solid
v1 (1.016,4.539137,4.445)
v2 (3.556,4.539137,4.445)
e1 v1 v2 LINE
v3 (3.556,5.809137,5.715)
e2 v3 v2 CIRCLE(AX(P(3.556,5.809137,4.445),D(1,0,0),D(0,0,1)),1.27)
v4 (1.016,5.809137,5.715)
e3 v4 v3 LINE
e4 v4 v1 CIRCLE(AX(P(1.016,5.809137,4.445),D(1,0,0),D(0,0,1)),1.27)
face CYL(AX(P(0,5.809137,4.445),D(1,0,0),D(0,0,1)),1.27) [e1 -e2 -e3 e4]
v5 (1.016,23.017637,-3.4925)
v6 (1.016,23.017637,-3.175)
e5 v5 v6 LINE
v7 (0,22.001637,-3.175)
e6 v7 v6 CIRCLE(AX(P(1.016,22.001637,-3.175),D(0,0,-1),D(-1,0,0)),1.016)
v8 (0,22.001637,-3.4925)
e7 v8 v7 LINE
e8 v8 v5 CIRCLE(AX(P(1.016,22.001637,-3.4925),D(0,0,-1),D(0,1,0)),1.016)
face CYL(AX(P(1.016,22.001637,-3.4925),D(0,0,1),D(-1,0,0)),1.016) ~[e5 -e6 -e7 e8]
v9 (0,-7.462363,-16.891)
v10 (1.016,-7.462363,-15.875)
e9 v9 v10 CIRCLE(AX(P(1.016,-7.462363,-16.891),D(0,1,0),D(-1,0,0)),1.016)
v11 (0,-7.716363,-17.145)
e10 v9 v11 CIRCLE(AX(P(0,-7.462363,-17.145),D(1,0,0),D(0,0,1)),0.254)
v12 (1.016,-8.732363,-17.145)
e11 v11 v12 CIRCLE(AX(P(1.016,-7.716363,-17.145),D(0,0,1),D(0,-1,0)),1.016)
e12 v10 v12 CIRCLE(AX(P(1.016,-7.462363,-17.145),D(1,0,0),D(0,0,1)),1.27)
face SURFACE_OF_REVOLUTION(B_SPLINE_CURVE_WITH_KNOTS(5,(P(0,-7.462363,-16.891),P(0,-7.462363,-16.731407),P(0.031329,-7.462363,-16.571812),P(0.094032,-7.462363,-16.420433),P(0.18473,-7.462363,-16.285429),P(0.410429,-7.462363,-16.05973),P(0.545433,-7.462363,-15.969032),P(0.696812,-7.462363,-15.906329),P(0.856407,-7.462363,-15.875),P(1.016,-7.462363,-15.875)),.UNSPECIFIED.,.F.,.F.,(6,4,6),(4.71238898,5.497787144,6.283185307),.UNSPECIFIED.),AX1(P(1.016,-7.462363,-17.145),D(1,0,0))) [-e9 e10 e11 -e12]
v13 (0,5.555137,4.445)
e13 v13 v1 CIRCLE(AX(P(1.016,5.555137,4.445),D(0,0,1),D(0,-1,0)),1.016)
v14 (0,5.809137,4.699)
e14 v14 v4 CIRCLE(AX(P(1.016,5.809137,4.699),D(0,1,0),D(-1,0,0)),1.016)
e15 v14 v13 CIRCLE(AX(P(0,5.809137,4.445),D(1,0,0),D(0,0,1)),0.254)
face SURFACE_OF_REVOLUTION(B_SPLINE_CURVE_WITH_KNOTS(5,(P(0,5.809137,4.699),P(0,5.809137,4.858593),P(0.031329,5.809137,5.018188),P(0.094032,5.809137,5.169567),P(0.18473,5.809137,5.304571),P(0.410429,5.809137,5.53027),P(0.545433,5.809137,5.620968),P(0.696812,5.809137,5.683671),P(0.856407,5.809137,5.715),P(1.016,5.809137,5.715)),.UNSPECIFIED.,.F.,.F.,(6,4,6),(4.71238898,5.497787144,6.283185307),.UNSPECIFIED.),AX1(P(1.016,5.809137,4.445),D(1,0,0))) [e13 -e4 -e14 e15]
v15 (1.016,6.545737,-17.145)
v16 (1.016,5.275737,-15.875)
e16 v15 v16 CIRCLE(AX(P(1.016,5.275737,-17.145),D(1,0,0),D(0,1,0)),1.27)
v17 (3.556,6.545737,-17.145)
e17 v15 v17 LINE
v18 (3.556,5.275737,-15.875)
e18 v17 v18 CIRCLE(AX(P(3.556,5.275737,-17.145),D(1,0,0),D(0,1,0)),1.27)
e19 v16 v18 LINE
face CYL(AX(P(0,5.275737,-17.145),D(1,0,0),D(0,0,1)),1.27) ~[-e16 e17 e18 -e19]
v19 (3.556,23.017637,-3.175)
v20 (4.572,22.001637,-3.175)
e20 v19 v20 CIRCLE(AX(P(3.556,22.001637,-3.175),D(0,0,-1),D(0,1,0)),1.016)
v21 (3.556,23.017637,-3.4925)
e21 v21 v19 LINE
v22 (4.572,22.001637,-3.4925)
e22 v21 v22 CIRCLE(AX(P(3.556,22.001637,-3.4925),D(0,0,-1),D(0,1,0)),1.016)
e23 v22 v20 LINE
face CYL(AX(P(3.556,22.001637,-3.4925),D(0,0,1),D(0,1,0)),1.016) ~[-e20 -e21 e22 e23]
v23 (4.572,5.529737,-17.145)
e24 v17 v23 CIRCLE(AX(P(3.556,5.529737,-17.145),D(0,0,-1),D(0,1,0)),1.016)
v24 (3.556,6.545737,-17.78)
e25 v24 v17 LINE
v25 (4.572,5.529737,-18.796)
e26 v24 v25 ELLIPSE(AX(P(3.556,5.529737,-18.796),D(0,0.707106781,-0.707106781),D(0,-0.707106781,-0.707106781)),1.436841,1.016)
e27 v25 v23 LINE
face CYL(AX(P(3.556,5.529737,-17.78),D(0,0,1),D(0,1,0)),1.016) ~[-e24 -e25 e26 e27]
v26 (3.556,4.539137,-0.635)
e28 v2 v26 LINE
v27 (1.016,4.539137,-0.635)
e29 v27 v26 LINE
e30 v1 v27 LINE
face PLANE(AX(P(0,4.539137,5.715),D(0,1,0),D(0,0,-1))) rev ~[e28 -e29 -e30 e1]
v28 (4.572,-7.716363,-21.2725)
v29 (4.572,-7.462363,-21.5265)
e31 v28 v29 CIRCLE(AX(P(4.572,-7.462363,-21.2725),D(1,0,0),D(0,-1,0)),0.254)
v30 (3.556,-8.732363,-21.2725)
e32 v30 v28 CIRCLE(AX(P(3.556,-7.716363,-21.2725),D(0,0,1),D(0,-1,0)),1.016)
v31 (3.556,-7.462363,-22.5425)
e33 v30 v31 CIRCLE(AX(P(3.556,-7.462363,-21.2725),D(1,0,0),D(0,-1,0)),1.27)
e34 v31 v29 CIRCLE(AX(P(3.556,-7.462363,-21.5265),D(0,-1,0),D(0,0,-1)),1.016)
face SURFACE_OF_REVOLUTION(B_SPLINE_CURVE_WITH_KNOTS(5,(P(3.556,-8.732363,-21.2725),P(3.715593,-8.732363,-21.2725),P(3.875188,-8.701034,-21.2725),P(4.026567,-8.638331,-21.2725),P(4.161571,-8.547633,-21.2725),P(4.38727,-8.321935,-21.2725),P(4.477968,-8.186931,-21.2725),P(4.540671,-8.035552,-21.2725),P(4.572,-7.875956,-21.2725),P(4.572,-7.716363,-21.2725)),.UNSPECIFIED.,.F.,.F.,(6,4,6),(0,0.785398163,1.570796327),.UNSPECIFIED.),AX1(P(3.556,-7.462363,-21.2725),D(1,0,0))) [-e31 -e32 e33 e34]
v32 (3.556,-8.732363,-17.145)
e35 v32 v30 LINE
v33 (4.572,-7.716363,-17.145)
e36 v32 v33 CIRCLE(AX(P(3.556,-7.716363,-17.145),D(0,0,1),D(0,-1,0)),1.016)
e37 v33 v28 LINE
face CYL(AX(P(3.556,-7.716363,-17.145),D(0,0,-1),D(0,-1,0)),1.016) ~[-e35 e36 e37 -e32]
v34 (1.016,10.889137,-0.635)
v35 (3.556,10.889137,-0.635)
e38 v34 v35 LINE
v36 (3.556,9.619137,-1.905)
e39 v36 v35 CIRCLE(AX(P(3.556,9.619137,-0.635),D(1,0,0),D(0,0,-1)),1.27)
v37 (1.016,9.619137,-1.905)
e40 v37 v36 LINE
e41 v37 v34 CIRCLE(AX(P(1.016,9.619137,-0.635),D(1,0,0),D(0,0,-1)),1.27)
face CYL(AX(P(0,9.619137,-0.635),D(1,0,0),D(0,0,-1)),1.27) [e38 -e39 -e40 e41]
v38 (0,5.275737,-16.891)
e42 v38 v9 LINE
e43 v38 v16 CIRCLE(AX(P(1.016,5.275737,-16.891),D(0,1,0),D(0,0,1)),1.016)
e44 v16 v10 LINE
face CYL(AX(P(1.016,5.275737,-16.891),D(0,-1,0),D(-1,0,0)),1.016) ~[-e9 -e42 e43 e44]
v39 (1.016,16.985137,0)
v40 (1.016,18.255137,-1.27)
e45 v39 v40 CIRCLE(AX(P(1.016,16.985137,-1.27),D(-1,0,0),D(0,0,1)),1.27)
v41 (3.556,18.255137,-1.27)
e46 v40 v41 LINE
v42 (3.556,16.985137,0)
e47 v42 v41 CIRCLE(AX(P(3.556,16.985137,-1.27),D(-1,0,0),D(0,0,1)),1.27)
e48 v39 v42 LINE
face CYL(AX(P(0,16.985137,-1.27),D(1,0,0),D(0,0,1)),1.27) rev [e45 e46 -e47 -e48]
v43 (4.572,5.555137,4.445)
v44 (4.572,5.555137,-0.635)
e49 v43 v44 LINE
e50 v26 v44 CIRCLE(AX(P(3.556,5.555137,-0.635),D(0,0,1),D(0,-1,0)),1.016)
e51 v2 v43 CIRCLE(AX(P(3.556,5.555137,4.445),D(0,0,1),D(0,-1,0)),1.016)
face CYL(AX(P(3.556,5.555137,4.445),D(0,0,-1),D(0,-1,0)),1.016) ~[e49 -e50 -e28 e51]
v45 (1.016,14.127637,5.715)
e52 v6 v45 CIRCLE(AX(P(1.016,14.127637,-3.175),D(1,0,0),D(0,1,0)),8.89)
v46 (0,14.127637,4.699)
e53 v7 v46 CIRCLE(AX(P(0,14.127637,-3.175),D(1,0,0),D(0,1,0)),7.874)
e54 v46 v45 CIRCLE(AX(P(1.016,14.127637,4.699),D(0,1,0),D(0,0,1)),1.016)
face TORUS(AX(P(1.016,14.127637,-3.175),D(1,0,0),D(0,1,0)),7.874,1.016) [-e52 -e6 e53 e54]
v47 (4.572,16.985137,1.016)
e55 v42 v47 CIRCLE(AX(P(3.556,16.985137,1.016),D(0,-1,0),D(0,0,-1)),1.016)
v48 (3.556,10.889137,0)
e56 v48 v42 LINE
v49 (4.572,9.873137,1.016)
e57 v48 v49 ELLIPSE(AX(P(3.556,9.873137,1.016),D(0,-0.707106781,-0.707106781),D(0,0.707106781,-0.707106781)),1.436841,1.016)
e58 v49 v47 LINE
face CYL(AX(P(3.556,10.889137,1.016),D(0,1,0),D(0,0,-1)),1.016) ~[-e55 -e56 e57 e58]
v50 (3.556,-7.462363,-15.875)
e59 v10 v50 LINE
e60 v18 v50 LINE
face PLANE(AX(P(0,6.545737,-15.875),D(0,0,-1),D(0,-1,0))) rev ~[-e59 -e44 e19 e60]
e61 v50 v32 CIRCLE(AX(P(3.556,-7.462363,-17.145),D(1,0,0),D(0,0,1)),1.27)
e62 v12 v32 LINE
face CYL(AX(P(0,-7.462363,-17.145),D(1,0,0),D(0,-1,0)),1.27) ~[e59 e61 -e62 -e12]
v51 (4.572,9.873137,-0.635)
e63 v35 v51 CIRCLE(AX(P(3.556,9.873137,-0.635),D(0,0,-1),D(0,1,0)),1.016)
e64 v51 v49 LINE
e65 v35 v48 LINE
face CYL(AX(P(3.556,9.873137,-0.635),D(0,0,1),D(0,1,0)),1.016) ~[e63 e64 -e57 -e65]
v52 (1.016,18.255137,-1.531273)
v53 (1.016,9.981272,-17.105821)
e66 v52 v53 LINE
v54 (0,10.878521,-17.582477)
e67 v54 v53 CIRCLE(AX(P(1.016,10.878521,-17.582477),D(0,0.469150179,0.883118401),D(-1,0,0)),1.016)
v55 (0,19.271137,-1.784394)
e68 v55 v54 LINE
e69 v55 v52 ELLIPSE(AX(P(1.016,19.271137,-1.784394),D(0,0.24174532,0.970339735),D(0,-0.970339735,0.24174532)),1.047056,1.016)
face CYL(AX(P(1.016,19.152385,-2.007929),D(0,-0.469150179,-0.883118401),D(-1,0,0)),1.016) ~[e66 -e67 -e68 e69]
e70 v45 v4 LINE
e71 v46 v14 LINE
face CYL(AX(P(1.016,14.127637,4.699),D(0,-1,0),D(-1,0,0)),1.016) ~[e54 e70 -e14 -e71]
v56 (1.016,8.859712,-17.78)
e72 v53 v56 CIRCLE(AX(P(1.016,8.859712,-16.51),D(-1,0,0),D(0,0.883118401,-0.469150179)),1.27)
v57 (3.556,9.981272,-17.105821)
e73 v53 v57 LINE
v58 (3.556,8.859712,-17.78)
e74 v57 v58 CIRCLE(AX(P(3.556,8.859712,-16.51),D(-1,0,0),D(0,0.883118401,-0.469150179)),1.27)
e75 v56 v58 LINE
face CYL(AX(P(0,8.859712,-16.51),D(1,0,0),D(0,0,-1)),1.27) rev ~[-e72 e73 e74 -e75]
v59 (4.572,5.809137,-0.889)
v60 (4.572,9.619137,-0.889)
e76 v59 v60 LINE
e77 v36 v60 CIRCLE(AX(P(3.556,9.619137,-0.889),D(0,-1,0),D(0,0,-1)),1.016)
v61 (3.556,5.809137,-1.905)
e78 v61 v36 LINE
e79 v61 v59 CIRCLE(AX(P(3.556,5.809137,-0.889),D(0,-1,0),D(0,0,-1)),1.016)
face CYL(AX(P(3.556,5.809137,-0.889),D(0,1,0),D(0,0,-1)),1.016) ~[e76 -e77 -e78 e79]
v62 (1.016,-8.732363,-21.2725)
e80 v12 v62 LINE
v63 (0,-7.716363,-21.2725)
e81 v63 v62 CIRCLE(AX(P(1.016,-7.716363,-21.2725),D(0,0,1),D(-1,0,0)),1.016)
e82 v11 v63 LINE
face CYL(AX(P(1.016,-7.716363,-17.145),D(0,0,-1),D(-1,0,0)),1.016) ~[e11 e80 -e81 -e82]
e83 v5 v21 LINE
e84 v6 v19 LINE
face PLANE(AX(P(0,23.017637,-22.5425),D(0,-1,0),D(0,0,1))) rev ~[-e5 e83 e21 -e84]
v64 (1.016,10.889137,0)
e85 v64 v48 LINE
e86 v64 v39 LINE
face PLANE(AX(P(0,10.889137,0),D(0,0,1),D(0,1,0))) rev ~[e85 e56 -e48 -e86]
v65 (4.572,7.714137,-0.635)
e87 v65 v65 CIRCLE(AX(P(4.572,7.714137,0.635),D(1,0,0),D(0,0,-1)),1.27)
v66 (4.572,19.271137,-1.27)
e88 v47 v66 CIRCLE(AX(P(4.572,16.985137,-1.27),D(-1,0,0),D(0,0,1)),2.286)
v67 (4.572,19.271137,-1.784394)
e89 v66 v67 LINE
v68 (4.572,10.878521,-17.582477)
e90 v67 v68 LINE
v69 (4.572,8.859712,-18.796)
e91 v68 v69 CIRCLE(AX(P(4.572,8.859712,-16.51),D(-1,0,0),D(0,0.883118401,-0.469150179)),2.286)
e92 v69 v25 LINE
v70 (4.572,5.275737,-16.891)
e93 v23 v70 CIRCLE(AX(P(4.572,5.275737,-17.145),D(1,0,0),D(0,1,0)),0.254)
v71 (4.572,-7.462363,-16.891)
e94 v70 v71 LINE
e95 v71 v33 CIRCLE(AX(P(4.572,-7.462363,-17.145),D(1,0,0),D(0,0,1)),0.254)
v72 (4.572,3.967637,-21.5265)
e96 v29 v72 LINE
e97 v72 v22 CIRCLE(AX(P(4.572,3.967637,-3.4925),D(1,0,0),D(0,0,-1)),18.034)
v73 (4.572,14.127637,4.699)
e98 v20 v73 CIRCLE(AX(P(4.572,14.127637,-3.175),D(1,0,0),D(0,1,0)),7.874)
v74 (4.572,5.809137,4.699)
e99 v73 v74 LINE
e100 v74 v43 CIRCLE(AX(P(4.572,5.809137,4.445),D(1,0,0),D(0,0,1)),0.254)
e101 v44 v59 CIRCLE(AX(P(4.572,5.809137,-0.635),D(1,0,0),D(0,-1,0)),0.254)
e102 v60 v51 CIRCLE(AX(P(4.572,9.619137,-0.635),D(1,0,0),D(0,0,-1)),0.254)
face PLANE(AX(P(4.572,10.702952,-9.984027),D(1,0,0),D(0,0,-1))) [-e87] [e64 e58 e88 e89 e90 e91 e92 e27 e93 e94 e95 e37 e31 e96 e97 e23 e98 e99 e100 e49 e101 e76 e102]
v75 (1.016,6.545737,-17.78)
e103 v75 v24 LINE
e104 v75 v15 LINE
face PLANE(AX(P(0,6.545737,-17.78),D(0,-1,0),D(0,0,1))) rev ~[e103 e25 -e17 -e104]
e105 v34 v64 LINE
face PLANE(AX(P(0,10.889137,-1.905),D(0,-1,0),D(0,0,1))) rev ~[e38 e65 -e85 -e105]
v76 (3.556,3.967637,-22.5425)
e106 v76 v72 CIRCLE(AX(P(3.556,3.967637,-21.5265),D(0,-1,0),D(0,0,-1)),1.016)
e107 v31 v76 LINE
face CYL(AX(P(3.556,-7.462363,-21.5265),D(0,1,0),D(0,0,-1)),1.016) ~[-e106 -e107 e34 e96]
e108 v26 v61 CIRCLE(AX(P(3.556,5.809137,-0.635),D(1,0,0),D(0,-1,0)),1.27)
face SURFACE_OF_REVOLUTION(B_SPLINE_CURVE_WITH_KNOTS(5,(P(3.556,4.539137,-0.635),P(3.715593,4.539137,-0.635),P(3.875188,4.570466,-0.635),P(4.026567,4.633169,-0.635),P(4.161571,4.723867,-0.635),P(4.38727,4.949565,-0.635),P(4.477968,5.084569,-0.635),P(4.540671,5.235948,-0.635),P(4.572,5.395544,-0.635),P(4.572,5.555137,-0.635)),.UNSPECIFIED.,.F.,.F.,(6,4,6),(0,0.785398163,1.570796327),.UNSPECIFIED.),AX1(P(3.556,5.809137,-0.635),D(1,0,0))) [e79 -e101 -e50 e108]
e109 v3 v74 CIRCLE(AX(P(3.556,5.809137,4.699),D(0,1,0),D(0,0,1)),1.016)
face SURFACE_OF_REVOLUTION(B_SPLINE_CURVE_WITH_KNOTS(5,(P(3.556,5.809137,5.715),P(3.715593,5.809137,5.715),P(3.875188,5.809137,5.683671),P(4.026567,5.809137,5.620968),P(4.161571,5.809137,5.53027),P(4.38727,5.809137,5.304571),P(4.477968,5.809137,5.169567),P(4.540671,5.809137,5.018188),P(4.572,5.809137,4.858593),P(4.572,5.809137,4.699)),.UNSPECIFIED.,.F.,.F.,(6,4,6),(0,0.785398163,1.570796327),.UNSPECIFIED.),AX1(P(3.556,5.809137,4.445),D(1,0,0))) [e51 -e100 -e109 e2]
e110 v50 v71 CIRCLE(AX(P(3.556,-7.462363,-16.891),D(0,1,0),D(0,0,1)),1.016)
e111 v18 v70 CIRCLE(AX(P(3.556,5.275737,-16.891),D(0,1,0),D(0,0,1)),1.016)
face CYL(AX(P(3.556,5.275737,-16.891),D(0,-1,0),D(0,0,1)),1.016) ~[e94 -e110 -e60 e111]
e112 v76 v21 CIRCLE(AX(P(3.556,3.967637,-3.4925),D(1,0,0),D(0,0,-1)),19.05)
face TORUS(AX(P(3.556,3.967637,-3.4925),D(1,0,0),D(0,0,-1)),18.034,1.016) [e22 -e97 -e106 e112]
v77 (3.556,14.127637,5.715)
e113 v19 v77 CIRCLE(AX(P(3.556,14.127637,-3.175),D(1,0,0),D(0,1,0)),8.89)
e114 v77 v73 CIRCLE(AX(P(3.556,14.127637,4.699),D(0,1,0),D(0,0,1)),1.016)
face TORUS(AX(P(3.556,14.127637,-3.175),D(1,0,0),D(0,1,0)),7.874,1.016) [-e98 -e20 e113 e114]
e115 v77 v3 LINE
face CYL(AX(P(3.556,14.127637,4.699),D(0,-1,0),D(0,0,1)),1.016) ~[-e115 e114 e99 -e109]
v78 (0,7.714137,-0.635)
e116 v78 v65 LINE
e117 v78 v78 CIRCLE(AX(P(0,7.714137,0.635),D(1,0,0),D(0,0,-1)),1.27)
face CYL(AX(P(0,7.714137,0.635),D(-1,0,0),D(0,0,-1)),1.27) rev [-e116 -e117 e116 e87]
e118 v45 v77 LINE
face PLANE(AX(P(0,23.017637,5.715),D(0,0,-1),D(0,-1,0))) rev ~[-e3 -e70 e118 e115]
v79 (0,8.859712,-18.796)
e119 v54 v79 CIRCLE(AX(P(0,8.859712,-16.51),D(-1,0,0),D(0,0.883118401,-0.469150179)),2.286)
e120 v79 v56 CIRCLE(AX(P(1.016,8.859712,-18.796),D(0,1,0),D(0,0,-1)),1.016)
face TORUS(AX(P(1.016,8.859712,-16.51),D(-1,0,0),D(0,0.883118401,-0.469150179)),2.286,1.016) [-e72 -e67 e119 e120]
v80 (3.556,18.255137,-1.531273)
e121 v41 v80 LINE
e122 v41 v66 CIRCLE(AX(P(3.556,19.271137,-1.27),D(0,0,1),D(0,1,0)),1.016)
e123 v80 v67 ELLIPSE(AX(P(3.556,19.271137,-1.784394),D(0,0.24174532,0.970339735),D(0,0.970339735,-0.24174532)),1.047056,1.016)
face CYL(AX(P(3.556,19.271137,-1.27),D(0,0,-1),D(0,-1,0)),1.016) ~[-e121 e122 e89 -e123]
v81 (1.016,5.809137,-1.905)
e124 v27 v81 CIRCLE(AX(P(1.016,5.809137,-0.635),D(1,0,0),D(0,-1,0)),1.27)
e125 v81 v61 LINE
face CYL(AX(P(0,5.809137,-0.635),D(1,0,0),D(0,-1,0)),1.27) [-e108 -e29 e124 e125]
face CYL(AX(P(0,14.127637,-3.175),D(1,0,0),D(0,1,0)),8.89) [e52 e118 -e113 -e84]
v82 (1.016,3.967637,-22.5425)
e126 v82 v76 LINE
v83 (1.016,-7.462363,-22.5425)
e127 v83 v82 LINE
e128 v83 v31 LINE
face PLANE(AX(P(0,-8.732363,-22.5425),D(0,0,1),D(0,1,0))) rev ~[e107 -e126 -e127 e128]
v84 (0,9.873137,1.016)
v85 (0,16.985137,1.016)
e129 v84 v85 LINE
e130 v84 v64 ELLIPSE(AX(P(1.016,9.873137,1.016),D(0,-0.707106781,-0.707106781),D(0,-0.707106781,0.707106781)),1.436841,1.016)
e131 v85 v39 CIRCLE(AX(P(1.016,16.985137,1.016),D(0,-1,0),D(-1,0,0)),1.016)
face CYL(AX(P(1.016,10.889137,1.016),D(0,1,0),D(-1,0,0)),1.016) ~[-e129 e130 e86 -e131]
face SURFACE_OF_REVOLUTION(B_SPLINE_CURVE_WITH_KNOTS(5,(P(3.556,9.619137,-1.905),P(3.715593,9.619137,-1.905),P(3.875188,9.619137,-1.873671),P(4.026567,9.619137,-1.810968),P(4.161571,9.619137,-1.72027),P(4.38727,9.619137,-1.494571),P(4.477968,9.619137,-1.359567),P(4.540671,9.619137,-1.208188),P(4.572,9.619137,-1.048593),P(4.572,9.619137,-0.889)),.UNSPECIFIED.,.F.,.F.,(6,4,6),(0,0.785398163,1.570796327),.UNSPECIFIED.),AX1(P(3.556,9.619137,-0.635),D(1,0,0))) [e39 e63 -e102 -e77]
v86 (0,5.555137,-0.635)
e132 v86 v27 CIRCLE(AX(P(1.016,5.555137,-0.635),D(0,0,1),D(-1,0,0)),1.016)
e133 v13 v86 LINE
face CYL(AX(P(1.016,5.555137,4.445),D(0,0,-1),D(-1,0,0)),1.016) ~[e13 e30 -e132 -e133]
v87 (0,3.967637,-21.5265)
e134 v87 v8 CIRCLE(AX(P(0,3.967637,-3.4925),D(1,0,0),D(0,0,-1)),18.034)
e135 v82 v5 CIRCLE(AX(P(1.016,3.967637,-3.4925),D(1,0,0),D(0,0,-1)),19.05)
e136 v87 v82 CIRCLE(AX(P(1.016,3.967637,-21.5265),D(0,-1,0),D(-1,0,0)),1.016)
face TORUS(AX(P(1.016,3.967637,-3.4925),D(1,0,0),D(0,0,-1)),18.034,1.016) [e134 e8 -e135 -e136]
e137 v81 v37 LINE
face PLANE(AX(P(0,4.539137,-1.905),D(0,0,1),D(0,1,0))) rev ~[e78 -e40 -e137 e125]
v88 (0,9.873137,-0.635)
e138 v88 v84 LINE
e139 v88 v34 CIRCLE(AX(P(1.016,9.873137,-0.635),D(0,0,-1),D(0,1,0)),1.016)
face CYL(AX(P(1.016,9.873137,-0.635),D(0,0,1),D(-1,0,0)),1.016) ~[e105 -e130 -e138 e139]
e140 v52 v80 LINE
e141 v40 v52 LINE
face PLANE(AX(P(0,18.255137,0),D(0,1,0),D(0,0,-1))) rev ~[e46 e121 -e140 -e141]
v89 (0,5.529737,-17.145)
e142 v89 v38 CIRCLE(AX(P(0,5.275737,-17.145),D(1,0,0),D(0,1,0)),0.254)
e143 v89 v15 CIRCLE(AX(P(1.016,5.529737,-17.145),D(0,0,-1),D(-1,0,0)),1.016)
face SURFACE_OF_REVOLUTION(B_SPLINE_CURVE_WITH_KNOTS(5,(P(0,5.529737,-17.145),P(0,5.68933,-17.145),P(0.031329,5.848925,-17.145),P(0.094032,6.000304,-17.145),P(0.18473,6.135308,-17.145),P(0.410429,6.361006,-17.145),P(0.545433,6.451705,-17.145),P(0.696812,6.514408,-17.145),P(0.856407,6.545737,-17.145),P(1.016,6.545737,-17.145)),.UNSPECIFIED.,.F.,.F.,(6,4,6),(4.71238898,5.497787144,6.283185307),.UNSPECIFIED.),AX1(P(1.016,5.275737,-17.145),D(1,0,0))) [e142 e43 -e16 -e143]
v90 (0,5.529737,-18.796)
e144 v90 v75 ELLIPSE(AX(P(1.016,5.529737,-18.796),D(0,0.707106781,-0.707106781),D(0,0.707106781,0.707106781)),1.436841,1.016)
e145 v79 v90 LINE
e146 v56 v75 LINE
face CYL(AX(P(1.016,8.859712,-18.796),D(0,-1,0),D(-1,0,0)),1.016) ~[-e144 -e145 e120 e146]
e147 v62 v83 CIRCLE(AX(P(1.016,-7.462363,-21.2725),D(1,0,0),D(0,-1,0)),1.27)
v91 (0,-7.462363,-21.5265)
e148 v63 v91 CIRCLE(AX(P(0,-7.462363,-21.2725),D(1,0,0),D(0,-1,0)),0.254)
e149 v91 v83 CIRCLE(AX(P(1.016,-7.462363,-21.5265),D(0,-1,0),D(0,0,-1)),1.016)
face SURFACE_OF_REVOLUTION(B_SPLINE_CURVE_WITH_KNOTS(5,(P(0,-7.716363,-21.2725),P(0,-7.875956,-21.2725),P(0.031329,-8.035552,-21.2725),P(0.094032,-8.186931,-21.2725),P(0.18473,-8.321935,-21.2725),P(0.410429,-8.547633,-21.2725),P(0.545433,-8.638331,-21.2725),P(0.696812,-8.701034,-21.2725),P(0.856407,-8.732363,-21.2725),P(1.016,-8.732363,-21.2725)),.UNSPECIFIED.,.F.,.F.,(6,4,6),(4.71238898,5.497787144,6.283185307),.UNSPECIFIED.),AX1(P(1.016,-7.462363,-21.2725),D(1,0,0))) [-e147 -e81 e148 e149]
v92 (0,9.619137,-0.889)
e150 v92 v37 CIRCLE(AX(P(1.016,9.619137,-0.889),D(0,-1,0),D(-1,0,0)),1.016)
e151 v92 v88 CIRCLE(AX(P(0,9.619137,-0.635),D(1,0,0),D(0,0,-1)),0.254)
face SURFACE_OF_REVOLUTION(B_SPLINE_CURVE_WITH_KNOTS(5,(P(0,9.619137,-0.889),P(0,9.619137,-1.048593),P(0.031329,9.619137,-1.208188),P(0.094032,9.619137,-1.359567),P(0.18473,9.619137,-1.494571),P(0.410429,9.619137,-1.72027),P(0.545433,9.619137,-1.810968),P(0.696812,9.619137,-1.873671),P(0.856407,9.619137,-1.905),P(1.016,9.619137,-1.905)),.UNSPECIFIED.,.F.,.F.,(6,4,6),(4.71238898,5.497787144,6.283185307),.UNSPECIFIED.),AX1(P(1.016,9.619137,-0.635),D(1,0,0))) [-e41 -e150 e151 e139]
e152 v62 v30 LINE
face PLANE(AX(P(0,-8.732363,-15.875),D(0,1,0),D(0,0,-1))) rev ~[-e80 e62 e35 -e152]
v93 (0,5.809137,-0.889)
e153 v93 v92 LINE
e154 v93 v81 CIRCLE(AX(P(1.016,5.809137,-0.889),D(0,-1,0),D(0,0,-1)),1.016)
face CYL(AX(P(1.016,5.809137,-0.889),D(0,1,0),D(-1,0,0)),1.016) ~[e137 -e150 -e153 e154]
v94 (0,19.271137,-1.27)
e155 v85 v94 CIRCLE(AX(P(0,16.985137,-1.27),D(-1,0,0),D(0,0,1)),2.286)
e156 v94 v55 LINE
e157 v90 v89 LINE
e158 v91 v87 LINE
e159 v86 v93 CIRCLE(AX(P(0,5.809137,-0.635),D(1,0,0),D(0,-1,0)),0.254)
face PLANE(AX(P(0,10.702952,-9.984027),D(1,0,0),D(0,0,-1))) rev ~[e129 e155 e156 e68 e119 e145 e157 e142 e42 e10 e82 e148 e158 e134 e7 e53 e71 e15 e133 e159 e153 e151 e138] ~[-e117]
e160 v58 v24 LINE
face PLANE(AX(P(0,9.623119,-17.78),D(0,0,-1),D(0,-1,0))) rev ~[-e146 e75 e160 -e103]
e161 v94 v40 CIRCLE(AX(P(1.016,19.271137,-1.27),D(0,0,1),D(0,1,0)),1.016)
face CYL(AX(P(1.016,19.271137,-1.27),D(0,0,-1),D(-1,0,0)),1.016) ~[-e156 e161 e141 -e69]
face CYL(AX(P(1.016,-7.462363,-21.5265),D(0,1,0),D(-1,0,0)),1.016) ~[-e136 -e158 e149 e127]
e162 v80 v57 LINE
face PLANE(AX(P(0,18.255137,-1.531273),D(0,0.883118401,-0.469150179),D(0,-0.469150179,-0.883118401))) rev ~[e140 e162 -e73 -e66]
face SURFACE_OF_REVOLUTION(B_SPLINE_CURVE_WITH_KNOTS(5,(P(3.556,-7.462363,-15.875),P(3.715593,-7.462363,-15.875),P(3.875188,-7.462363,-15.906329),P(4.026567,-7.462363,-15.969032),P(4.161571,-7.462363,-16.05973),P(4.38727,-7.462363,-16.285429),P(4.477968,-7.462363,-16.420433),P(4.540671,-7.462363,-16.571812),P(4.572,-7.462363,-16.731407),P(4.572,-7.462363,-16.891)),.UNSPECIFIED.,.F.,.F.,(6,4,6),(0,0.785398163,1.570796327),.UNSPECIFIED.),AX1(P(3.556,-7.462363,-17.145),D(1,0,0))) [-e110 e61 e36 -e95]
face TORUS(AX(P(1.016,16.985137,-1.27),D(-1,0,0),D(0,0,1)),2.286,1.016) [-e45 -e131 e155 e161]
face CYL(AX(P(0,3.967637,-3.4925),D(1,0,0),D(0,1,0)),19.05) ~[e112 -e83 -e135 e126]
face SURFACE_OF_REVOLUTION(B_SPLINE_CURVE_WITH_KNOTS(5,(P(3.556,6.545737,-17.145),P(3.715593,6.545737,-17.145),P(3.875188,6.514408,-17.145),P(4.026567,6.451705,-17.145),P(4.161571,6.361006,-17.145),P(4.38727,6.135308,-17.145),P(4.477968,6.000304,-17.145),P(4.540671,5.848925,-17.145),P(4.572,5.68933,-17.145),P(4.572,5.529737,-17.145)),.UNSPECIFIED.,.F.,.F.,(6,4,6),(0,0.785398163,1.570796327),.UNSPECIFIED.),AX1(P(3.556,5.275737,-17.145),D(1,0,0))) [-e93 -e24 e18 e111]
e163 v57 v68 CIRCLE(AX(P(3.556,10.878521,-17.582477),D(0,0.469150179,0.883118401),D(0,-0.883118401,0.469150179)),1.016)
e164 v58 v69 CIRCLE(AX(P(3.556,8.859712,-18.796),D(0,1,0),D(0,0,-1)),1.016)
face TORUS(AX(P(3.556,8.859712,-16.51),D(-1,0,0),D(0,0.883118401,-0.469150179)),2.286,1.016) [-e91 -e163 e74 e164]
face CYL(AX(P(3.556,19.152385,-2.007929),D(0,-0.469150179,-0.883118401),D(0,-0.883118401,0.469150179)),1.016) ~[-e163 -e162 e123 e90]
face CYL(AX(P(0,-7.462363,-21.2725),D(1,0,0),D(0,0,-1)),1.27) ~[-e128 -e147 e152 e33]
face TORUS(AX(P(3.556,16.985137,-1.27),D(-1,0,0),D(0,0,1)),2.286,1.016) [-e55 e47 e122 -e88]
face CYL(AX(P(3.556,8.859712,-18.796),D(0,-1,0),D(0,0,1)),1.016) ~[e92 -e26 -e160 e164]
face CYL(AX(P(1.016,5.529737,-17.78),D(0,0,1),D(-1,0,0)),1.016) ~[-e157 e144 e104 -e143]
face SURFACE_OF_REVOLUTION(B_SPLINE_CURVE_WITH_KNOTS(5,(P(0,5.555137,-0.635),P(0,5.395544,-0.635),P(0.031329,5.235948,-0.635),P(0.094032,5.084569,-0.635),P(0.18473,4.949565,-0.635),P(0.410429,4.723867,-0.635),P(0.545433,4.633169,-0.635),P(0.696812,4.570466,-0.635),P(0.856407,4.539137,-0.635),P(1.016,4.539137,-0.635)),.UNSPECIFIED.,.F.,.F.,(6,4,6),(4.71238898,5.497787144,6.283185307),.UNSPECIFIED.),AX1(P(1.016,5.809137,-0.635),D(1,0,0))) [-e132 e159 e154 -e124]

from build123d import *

# Parameters (mm, degrees)
SKETCH1_R           = 1.27
BOSS_EXTRUDE1_DEPTH = 4.572
FILLET4_R           = 1.27
FILLET5_R           = 1.27
FILLET6_R           = 8.89
FILLET7_R           = 19.05
FILLET8_R           = 1.016


with BuildPart() as part:
    # Sketch1 → Boss-Extrude1 (new body)
    with BuildSketch(Plane(origin=(0, 0, 0), x_dir=(0, 0, -1), z_dir=(1, 0, 0))):
        Polygon((-5.715, 23.017636755), (-5.715, 4.539136755), (1.905, 4.539136755), (1.905, 10.889136755), (0, 10.889136755), (0, 18.255136755), (1.531272723, 18.255136755), (17.78, 9.623119465), (17.78, 6.545736755), (15.875, 6.545736755), (15.875, -8.732363245), (22.5425, -8.732363245), (22.5425, 23.017636755), align=None)
        with Locations((-0.635, 7.714136755)):
            Circle(SKETCH1_R, mode=Mode.SUBTRACT)
    extrude(amount=BOSS_EXTRUDE1_DEPTH)

    # Fillet4
    fillet4_edges = [part.edges().sort_by_distance(p)[0] for p in [
        (2.286, 4.539136755, 5.715),
        (2.286, 6.545736755, -15.875),
        (2.286, 10.889136755, -1.905),
        (2.286, 4.539136755, -1.905),
    ]]
    fillet(fillet4_edges, radius=FILLET4_R)

    # Fillet5
    fillet5_edges = [part.edges().sort_by_distance(p)[0] for p in [
        (2.286, -8.732363245, -22.5425),
        (2.286, -8.732363245, -15.875),
        (2.286, 9.623119465, -17.78),
        (2.286, 18.255136755, 0),
    ]]
    fillet(fillet5_edges, radius=FILLET5_R)

    # Fillet6
    fillet6_edges = [part.edges().sort_by_distance(p)[0] for p in [
        (2.286, 23.017636755, 5.715),
    ]]
    fillet(fillet6_edges, radius=FILLET6_R)

    # Fillet7
    fillet7_edges = [part.edges().sort_by_distance(p)[0] for p in [
        (2.286, 23.017636755, -22.5425),
    ]]
    fillet(fillet7_edges, radius=FILLET7_R)

    # Fillet8
    fillet8_edges = [part.edges().sort_by_distance(p)[0] for p in [
        (4.572, 13.937136755, 0),
        (0, 6.545736755, -17.4625),
        (0, 14.118204509, -9.318546725),
        (0, 13.937136755, 0),
        (4.572, 14.118204509, -9.318546725),
        (4.572, 6.545736755, -17.4625),
        (0, -1.093313245, -15.875),
        (4.572, -1.093313245, -15.875),
        (0, 4.539136755, 1.905),
        (0, 10.889136755, -0.3175),
        (0, 7.714136755, -1.905),
        (0, 4.911111143, 5.343025612),
        (0, 4.911111143, -1.533025612),
        (0, 10.517162367, -1.533025612),
        (0, 6.173762367, -16.246974388),
        (4.572, 4.539136755, 1.905),
        (4.572, 7.714136755, -1.905),
        (4.572, 10.889136755, -0.3175),
        (4.572, 4.911111143, 5.343025612),
        (4.572, 4.911111143, -1.533025612),
        (4.572, 10.517162367, -1.533025612),
        (4.572, 6.173762367, -16.246974388),
        (0, 18.255136755, -1.400636361),
        (4.572, 18.255136755, -1.400636361),
        (0, 7.702724325, -17.78),
        (4.572, 7.702724325, -17.78),
        (0, -1.747363245, -22.5425),
        (4.572, -1.747363245, -22.5425),
        (0, -8.732363245, -19.20875),
        (0, -8.360388857, -16.246974388),
        (0, -8.360388857, -22.170525612),
        (4.572, -8.732363245, -19.20875),
        (4.572, -8.360388857, -16.246974388),
        (4.572, -8.360388857, -22.170525612),
        (0, 17.883162367, -0.371974388),
        (4.572, 17.883162367, -0.371974388),
        (0, 9.51400834, -17.598483423),
        (4.572, 9.51400834, -17.598483423),
        (0, 9.968386755, 5.715),
        (4.572, 9.968386755, 5.715),
        (0, 20.413816039, 3.111179285),
        (4.572, 20.413816039, 3.111179285),
        (0, 23.017636755, -3.33375),
        (4.572, 23.017636755, -3.33375),
        (0, 17.438020936, -16.962884182),
        (4.572, 17.438020936, -16.962884182),
    ]]
    fillet(fillet8_edges, radius=FILLET8_R)


solid = part.part
